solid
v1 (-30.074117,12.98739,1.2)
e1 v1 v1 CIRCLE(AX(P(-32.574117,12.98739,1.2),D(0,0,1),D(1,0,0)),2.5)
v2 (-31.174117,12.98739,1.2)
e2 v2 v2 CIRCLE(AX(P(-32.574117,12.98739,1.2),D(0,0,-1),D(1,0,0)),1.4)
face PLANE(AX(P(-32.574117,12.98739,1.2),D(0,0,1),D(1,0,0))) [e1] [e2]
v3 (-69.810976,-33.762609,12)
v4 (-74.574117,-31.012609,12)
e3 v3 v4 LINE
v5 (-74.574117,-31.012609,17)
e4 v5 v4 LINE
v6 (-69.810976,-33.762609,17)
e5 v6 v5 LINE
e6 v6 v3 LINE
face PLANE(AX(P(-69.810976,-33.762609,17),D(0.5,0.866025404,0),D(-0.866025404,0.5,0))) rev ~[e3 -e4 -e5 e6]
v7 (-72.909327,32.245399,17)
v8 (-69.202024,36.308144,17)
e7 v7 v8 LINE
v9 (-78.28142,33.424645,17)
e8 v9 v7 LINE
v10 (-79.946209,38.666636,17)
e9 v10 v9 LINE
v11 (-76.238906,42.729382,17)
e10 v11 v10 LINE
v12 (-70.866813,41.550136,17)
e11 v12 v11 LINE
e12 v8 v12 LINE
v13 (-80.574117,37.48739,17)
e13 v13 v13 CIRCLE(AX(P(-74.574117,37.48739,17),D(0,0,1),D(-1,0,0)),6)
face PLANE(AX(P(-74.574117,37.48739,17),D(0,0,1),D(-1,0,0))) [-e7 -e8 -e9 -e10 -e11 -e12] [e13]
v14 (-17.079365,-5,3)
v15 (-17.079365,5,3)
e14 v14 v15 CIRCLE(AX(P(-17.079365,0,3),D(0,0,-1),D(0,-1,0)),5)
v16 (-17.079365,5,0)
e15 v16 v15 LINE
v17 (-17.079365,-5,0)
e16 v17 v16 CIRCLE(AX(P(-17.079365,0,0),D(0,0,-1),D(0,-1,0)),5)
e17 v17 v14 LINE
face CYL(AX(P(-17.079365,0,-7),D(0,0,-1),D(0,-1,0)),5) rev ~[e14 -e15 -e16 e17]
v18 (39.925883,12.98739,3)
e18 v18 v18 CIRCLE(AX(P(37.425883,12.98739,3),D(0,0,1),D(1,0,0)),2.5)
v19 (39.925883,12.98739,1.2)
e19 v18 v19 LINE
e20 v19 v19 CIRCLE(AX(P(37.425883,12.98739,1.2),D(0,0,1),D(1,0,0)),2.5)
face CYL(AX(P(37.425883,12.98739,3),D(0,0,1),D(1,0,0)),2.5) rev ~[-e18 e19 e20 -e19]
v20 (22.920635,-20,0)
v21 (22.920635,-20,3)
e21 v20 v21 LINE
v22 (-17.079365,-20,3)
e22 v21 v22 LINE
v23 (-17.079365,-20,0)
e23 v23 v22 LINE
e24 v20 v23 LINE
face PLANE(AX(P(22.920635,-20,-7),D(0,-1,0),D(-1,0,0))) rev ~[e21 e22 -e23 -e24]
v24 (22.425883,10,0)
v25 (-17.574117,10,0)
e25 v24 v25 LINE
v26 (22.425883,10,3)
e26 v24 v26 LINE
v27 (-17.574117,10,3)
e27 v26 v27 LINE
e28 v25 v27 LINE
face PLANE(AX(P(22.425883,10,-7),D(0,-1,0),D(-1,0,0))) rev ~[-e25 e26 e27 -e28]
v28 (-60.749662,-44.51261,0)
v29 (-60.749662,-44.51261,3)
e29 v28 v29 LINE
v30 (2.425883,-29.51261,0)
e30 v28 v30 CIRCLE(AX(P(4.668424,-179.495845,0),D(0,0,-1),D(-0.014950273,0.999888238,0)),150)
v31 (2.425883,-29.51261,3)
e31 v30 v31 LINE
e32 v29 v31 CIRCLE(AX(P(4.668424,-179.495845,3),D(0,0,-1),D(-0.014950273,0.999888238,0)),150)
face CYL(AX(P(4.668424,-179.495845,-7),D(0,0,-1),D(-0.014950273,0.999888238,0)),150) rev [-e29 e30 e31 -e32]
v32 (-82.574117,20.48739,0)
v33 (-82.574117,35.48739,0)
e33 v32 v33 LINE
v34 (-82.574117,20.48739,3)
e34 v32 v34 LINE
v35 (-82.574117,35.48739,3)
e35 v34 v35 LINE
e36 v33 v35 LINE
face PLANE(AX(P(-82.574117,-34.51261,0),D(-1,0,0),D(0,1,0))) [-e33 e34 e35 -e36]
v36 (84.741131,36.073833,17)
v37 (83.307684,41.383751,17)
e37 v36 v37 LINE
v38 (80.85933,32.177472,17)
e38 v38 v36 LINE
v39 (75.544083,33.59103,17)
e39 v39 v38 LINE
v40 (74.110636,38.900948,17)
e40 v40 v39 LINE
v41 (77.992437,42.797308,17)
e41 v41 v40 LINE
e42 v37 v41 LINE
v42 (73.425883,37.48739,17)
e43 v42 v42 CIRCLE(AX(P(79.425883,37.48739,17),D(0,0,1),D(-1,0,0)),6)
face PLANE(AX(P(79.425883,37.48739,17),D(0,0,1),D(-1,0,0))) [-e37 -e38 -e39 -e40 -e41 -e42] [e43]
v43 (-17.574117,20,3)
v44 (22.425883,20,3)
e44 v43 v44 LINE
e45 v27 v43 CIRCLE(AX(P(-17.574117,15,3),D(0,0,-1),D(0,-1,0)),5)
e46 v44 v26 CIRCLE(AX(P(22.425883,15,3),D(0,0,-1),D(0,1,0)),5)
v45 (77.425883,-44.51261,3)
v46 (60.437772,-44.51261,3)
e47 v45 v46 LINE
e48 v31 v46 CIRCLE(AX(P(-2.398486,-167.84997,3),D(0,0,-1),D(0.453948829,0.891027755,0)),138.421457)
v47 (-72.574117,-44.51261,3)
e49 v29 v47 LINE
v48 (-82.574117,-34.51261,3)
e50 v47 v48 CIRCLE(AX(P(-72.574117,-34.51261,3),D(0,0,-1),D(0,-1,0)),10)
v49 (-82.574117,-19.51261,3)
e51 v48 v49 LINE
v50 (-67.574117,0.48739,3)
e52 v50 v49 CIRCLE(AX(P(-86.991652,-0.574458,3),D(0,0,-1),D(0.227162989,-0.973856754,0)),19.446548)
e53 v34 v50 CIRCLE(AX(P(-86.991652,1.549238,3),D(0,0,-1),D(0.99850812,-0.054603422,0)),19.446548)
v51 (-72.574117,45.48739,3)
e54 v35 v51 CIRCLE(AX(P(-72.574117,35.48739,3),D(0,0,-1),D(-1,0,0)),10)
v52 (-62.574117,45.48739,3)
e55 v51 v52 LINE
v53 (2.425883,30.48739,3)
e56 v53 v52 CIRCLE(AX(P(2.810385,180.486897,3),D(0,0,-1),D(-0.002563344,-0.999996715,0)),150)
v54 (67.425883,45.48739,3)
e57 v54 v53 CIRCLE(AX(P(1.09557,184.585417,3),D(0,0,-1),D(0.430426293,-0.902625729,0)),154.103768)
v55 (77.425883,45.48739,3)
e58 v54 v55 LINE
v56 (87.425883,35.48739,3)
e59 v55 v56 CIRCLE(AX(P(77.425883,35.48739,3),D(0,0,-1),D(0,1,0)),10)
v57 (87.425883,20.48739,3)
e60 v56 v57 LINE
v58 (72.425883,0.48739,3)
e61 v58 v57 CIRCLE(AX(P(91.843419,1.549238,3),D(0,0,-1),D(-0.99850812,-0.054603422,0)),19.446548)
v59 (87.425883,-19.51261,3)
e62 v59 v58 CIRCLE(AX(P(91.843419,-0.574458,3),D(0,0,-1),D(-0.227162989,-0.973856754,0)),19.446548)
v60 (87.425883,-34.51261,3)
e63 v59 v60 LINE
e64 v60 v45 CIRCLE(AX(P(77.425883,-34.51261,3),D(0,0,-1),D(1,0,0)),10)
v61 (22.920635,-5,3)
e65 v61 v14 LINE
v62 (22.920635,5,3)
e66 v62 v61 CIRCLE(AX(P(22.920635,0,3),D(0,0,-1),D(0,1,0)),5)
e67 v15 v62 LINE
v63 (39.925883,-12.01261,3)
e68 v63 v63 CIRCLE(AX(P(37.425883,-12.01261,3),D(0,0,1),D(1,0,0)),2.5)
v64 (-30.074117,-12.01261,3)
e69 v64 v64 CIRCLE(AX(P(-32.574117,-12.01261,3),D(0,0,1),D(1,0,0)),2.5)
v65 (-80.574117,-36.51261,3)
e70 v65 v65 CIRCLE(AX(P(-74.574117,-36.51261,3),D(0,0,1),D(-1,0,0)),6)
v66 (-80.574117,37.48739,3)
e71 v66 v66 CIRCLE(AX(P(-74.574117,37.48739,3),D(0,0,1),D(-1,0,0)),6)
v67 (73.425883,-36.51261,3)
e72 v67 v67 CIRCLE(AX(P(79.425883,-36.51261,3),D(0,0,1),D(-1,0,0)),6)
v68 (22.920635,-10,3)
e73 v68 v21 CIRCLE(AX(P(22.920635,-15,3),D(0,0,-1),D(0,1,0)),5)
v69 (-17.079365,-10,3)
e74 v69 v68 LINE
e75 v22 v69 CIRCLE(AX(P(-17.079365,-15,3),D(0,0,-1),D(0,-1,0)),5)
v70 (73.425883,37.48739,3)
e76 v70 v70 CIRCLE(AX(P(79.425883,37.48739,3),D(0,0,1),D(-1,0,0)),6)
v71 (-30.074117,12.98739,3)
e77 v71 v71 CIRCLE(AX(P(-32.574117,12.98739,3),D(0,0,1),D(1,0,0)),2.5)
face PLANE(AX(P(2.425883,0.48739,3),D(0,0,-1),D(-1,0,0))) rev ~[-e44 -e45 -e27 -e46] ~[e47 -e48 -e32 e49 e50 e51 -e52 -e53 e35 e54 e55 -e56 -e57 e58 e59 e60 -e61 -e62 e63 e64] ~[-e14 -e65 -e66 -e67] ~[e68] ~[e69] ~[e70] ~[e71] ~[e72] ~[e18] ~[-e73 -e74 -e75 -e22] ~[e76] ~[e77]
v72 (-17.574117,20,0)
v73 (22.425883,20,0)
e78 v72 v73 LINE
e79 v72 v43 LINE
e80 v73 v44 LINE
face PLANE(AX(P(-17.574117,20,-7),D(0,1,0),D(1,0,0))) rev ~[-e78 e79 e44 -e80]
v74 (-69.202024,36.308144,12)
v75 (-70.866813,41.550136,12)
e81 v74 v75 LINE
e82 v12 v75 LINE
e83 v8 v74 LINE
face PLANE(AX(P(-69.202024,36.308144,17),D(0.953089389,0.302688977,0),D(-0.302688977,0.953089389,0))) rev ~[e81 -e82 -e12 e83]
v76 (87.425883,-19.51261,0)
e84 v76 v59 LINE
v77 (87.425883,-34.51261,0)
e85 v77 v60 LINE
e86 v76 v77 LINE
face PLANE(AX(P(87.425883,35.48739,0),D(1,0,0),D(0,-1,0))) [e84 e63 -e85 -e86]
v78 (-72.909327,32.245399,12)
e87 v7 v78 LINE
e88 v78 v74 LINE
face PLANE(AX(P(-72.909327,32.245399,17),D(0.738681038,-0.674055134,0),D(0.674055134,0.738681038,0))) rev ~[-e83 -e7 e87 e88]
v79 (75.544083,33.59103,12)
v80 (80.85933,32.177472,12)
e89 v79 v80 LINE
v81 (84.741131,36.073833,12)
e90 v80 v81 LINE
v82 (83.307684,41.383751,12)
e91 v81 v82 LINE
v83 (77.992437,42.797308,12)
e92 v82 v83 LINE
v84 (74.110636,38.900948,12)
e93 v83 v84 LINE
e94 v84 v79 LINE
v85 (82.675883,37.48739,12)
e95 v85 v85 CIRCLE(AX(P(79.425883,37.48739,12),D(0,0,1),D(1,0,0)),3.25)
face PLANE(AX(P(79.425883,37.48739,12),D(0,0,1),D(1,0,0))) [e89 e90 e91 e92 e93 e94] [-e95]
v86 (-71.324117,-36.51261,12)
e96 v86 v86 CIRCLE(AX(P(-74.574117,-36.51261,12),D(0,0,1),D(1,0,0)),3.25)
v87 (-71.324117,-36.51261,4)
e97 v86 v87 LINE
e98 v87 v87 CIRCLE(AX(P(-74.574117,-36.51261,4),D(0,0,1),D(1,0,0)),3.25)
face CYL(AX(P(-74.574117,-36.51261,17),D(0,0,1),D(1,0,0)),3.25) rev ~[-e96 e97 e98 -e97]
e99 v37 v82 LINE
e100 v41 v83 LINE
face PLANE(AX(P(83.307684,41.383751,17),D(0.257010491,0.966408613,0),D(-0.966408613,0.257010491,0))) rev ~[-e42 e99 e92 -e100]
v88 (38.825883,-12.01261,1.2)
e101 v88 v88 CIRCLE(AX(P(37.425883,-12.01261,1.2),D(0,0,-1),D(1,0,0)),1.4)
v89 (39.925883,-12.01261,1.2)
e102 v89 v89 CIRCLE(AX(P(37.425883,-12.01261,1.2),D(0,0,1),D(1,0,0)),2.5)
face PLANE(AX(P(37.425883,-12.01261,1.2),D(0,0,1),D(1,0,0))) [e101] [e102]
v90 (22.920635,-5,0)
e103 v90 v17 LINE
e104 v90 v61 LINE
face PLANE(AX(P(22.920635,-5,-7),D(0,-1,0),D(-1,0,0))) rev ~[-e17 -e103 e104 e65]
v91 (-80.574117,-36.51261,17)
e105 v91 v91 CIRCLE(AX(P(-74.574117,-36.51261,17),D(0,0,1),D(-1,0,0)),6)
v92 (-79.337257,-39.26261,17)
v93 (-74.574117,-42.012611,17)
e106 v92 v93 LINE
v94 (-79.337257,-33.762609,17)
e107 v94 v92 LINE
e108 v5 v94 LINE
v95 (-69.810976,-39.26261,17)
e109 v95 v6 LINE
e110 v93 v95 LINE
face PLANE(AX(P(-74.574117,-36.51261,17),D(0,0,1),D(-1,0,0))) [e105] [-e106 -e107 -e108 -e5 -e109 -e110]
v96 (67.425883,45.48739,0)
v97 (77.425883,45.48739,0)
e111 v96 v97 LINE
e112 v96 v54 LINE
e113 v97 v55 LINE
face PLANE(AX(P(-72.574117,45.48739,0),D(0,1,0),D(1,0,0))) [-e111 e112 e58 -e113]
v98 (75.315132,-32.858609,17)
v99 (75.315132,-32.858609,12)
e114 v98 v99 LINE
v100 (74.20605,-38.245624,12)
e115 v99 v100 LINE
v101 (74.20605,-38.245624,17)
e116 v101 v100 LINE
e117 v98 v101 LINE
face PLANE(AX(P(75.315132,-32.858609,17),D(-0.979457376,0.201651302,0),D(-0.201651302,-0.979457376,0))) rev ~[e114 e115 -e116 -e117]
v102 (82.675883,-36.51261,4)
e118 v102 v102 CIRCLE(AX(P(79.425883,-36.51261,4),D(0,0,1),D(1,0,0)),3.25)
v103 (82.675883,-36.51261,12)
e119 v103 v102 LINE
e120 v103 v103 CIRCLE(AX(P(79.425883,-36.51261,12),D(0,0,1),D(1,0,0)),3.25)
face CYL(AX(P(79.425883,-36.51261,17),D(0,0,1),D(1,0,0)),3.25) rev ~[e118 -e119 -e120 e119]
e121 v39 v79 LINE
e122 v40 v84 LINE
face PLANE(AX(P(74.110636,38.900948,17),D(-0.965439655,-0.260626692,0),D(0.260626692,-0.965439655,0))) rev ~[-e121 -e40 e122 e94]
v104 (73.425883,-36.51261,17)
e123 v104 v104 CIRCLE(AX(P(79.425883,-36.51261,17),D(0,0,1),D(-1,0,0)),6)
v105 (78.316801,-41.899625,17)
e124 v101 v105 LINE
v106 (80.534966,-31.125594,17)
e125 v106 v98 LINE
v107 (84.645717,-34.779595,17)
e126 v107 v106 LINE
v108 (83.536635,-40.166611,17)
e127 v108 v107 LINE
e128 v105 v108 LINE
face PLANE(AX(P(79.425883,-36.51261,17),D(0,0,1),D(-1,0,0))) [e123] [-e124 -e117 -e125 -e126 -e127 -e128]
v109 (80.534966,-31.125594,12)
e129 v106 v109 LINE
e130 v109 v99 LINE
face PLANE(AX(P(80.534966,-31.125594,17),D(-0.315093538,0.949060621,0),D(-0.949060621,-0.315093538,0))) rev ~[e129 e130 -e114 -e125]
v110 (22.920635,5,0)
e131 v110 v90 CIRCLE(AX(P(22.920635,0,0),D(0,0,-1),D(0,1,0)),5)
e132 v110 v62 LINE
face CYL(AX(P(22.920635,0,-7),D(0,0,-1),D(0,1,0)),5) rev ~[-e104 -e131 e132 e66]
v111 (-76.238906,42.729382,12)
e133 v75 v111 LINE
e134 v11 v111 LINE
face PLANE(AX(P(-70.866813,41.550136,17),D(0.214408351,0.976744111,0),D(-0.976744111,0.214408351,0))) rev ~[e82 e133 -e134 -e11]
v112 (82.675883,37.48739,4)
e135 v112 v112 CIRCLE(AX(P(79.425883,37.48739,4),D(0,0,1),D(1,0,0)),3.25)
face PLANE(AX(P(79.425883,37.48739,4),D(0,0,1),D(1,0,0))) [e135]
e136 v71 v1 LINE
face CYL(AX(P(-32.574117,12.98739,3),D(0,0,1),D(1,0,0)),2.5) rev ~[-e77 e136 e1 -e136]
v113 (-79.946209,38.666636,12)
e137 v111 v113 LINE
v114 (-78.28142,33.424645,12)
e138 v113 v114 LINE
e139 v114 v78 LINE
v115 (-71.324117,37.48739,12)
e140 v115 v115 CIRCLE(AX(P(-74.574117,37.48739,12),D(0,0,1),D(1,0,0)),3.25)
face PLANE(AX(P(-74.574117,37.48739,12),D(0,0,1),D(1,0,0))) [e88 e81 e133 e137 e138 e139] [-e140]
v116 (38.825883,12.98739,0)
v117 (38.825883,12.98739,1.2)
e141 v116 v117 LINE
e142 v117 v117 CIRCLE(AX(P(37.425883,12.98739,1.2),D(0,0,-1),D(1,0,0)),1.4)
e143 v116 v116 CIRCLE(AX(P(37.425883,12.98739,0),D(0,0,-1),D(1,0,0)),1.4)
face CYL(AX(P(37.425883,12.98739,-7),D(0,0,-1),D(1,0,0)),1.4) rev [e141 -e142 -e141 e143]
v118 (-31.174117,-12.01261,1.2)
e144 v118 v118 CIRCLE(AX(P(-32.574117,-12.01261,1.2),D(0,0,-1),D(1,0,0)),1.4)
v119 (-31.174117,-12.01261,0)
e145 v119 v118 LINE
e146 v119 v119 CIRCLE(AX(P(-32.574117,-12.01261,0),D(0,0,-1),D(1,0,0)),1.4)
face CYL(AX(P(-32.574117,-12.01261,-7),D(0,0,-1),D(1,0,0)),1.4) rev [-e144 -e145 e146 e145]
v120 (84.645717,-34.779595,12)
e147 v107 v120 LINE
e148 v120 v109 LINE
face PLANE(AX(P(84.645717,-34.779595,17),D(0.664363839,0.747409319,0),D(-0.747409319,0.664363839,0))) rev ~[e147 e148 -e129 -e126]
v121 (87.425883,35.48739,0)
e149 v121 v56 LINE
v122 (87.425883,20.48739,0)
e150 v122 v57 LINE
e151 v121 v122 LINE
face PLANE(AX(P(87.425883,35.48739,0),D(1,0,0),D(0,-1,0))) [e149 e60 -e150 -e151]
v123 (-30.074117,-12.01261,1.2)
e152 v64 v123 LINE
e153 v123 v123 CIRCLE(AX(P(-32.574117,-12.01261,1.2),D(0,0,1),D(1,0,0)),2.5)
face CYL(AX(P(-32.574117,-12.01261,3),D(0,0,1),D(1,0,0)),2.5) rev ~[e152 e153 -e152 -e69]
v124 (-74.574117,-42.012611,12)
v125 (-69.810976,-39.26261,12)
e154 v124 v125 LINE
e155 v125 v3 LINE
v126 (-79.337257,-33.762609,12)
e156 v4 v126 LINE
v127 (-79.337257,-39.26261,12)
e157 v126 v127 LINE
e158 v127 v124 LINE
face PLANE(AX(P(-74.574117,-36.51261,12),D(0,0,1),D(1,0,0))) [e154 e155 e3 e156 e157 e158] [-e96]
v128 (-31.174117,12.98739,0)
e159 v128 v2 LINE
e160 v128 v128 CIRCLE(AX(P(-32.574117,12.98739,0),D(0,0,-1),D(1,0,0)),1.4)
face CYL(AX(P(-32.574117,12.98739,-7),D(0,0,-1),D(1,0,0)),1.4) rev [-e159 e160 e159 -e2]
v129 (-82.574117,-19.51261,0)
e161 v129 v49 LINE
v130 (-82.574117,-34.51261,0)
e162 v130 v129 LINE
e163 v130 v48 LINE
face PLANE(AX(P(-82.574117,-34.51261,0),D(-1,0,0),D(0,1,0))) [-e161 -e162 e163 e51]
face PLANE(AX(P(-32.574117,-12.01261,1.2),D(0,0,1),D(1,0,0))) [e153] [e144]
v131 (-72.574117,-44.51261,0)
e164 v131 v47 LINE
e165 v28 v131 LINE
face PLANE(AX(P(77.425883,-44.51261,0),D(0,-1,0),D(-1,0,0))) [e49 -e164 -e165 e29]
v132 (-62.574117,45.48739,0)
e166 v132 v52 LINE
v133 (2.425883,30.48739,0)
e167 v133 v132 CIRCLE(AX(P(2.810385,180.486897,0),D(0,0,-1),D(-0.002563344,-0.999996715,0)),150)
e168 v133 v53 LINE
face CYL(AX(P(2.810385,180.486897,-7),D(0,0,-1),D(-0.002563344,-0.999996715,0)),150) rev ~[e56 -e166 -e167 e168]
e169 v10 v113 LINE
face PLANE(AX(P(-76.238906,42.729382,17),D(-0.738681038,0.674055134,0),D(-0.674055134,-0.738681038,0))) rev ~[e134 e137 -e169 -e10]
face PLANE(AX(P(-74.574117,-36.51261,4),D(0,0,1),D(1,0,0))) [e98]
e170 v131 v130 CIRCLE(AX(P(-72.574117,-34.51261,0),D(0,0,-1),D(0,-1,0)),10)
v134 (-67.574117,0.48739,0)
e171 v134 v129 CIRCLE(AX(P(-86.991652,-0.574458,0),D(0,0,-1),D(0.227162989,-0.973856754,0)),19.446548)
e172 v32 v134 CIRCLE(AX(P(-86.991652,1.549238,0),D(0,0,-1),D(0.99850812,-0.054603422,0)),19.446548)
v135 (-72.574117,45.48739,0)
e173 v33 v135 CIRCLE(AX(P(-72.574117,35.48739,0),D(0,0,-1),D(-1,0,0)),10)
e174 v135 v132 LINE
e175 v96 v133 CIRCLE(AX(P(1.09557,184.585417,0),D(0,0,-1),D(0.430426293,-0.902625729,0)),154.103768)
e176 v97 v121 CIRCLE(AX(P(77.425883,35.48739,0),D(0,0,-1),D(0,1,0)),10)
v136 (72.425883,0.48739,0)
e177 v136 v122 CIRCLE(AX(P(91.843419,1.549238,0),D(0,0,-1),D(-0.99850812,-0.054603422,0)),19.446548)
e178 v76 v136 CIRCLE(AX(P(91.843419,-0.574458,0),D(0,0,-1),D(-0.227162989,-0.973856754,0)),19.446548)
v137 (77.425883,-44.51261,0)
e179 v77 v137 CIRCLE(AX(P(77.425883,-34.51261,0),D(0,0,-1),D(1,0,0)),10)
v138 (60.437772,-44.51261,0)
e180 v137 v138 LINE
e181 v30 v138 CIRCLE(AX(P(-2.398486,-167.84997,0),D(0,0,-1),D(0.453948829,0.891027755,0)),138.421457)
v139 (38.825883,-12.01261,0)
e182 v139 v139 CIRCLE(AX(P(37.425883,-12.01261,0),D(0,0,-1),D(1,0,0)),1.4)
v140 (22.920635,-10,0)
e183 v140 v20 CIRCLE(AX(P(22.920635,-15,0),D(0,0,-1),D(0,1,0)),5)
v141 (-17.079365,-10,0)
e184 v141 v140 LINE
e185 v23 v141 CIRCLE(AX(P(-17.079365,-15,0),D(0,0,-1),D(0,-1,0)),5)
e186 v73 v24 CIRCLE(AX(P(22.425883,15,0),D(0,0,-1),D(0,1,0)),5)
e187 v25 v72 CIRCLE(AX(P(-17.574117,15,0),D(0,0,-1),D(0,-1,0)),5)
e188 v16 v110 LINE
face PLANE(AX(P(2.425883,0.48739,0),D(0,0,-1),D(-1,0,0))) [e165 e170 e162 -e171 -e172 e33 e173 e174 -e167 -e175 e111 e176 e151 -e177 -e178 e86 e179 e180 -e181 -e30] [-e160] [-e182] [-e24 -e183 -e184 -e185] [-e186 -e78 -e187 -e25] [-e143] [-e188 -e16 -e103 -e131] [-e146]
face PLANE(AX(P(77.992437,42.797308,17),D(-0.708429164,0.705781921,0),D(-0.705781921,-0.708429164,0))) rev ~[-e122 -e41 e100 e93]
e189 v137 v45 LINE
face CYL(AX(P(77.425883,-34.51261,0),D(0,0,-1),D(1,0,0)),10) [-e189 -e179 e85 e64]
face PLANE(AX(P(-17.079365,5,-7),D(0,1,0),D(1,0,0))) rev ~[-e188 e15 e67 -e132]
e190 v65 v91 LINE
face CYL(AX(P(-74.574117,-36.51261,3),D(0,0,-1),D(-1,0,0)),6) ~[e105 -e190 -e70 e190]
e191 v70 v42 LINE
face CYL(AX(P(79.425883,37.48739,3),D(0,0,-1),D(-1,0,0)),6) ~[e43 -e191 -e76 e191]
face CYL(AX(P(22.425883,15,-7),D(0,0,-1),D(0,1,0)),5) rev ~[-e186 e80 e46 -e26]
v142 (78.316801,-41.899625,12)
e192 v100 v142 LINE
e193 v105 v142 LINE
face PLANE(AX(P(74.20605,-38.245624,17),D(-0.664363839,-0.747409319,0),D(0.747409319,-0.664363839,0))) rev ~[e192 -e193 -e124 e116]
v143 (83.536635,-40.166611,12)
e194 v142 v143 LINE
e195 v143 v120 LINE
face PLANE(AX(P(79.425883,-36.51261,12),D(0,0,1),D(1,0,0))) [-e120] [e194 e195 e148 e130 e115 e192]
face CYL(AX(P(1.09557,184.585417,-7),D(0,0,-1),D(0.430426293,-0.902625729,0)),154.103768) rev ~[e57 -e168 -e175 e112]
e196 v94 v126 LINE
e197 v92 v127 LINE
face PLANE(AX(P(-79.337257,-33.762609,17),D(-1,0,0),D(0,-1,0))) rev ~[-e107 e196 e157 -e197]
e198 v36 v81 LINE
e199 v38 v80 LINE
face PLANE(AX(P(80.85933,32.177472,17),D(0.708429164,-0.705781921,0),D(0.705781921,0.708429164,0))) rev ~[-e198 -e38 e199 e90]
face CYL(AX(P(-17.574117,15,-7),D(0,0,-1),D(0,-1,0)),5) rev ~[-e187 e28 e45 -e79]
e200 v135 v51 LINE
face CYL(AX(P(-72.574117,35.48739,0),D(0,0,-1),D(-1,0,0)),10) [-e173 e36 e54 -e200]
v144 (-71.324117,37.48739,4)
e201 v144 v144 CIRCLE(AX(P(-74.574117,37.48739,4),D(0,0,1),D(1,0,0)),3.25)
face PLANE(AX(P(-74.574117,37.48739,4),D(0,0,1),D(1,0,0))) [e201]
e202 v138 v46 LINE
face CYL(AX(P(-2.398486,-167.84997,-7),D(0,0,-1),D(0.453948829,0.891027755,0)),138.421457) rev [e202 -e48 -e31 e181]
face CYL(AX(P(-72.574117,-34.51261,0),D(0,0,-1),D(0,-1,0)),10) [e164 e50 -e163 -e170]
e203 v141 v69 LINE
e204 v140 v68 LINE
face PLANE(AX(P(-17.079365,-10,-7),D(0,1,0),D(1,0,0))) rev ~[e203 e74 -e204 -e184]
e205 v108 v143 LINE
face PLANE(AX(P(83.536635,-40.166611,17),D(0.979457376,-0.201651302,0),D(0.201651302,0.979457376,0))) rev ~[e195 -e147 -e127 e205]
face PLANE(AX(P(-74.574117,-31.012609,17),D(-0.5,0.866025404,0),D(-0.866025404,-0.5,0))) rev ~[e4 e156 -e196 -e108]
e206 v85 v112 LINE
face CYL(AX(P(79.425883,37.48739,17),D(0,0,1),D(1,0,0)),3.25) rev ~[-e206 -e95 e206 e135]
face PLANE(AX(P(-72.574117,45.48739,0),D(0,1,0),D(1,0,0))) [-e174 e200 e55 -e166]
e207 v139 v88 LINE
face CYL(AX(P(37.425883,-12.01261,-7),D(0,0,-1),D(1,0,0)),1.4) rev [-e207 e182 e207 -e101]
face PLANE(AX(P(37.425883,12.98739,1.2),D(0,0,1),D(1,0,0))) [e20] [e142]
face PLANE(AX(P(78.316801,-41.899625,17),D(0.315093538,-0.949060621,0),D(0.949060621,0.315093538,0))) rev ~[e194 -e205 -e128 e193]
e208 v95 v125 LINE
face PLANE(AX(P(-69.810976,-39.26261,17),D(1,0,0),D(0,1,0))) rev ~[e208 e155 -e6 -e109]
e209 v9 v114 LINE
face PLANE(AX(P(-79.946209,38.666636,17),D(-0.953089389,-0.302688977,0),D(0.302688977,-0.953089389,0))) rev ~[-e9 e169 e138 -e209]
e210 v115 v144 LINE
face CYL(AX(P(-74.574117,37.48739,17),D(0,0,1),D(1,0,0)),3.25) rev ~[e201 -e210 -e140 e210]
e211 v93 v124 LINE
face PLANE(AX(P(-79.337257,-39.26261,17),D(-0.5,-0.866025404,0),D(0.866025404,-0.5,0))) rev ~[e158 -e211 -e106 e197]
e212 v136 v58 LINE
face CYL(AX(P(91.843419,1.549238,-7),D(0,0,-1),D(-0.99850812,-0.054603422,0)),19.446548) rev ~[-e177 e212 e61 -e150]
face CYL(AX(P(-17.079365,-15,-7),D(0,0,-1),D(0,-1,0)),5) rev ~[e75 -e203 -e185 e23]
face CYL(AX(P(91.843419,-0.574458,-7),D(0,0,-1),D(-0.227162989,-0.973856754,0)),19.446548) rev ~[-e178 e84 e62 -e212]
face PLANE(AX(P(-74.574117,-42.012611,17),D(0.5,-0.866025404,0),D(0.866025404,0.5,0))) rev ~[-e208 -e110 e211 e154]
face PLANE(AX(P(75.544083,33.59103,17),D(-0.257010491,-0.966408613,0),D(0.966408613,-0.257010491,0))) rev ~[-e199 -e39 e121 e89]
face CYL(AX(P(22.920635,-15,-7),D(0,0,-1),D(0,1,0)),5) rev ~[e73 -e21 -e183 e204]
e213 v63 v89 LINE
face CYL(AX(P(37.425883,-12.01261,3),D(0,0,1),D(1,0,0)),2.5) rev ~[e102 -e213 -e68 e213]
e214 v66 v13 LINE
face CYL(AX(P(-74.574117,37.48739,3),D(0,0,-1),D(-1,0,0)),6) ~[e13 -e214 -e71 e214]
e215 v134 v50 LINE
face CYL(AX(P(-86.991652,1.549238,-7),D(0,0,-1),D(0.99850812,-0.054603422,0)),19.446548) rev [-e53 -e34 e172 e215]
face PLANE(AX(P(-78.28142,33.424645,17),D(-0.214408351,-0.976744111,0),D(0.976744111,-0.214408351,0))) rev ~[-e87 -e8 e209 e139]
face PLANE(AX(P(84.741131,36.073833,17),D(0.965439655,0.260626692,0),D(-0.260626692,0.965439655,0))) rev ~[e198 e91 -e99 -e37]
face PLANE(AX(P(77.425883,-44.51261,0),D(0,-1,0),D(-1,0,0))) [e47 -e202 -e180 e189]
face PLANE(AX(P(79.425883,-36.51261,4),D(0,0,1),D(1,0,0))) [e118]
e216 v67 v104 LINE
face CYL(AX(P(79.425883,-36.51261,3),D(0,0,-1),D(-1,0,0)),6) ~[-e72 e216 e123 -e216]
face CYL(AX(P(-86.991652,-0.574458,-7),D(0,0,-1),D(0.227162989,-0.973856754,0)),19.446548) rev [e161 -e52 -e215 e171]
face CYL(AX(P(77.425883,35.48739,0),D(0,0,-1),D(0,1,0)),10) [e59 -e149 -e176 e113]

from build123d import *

# Parameters (mm, degrees)
EXTRUDE_1_DEPTH          = 3
CUT_EXTRUDE_1_DEPTH      = 42
CUT_EXTRUDE_1_DEPTH_BACK = 10
SKETCH_2_R               = 1.4
SKETCH_3_R               = 2.5
CUT_EXTRUDE_2_DEPTH      = 1.8
SKETCH_7_R               = 6
EXTRUDE_4_DEPTH          = 14
BUTTON_LEFT_NUT_DEPTH    = 5
UP_LEFT_NUT_DEPTH        = 5
UP_RIGHT_NUT_DEPTH       = 5
BUTTON_RIGHT_NUT_DEPTH   = 5
SKETCH_13_R              = 3.25
CUT_EXTRUDE_7_DEPTH      = 13
SKETCH_15_R              = 3.25
CUT_EXTRUDE_8_DEPTH      = 13
SKETCH_16_R              = 3.25
CUT_EXTRUDE_9_DEPTH      = 13
SKETCH_17_R              = 3.25
CUT_EXTRUDE_10_DEPTH     = 13


with BuildPart() as part:
    # 草图1 → 凸台-拉伸1 (new body)
    with BuildSketch(Plane.XY):
        with BuildLine():
            Line((-72.574116531, 45.487390308), (77.425883469, 45.487390308))
            ThreePointArc((77.425883469, 45.487390308), (84.496951281, 42.558458119), (87.425883469, 35.487390308))
            Line((87.425883469, 35.487390308), (87.425883469, -34.512609692))
            ThreePointArc((87.425883469, -34.512609692), (84.496951281, -41.583677504), (77.425883469, -44.512609692))
            Line((77.425883469, -44.512609692), (-72.574116531, -44.512609692))
            ThreePointArc((-72.574116531, -44.512609692), (-79.645184343, -41.583677504), (-82.574116531, -34.512609692))
            Line((-82.574116531, -34.512609692), (-82.574116531, 35.487390308))
            ThreePointArc((-82.574116531, 35.487390308), (-79.645184343, 42.558458119), (-72.574116531, 45.487390308))
        make_face()
    extrude(amount=EXTRUDE_1_DEPTH)

    # 草图2 → 切除-拉伸1 (cut, two sides: drawn at the far end of the back side and taken through both)
    with BuildSketch(Plane.XY.offset(3).offset(-CUT_EXTRUDE_1_DEPTH_BACK)):
        with Locations((-32.574116531, 12.987390308)):
            Circle(SKETCH_2_R)
        with Locations((-32.574116531, -12.012609692)):
            Circle(SKETCH_2_R)
        with Locations((37.425883469, 12.987390308)):
            Circle(SKETCH_2_R)
        with Locations((37.425883469, -12.012609692)):
            Circle(SKETCH_2_R)
        with BuildLine():
            Line((-60.749662301, -44.512609692), (60.437772164, -44.512609692))
            ThreePointArc((60.437772164, -44.512609692), (32.253211404, -33.835942142), (2.425883469, -29.512609692))
            ThreePointArc((2.425883469, -29.512609692), (-29.983273004, -33.55318593), (-60.749662301, -44.512609692))
        make_face()
        with BuildLine():
            Line((-62.574116531, 45.487390308), (67.425883469, 45.487390308))
            ThreePointArc((67.425883469, 45.487390308), (35.747267057, 34.428061428), (2.425883469, 30.487390308))
            ThreePointArc((2.425883469, 30.487390308), (-30.918540876, 34.328218147), (-62.574116531, 45.487390308))
        make_face()
        with BuildLine():
            Line((87.425883469, 20.487390308), (87.425883469, -19.512609692))
            ThreePointArc((87.425883469, -19.512609692), (76.286181126, -12.242386449), (72.425883469, 0.487390308))
            ThreePointArc((72.425883469, 0.487390308), (76.286181126, 13.217167065), (87.425883469, 20.487390308))
        make_face()
        with BuildLine():
            Line((-82.574116531, 20.487390308), (-82.574116531, -19.512609692))
            ThreePointArc((-82.574116531, -19.512609692), (-71.434414188, -12.242386449), (-67.574116531, 0.487390308))
            ThreePointArc((-67.574116531, 0.487390308), (-71.434414188, 13.217167065), (-82.574116531, 20.487390308))
        make_face()
        with BuildLine():
            Line((-17.574116531, 20), (22.425883469, 20))
            ThreePointArc((22.425883469, 20), (27.425883469, 15), (22.425883469, 10))
            Line((22.425883469, 10), (-17.574116531, 10))
            ThreePointArc((-17.574116531, 10), (-22.574116531, 15), (-17.574116531, 20))
        make_face()
        with BuildLine():
            Line((-17.079364826, 5), (22.920635174, 5))
            ThreePointArc((22.920635174, 5), (27.920635174, 0), (22.920635174, -5))
            Line((22.920635174, -5), (-17.079364826, -5))
            ThreePointArc((-17.079364826, -5), (-22.079364826, 0), (-17.079364826, 5))
        make_face()
        with BuildLine():
            Line((-17.079364826, -10), (22.920635174, -10))
            ThreePointArc((22.920635174, -10), (27.920635174, -15), (22.920635174, -20))
            Line((22.920635174, -20), (-17.079364826, -20))
            ThreePointArc((-17.079364826, -20), (-22.079364826, -15), (-17.079364826, -10))
        make_face()
    extrude(amount=CUT_EXTRUDE_1_DEPTH + CUT_EXTRUDE_1_DEPTH_BACK, mode=Mode.SUBTRACT)

    # 草图3 → 切除-拉伸2 (cut)
    with BuildSketch(Plane.XY.offset(3)):
        with Locations((-32.574116531, 12.987390308)):
            Circle(SKETCH_3_R)
        with Locations((37.425883469, 12.987390308)):
            Circle(SKETCH_3_R)
        with Locations((37.425883469, -12.012609692)):
            Circle(SKETCH_3_R)
        with Locations((-32.574116531, -12.012609692)):
            Circle(SKETCH_3_R)
    extrude(amount=-CUT_EXTRUDE_2_DEPTH, mode=Mode.SUBTRACT)

    # 草图7 → 凸台-拉伸4 (add)
    with BuildSketch(Plane.XY.offset(3)):
        with Locations(Location((-74.574116531, 37.487390308, 0), (0, 0, 180))):
            Circle(SKETCH_7_R)
        with Locations(Location((-74.574116531, -36.512609692, 0), (0, 0, 180))):
            Circle(SKETCH_7_R)
        with Locations(Location((79.425883469, 37.487390308, 0), (0, 0, 180))):
            Circle(SKETCH_7_R)
        with Locations(Location((79.425883469, -36.512609692, 0), (0, 0, 180))):
            Circle(SKETCH_7_R)
    extrude(amount=EXTRUDE_4_DEPTH)

    # 草图9 → button left nut (cut)
    with BuildSketch(Plane.XY.offset(17)):
        Polygon((-69.81097595, -39.262610189), (-69.81097595, -33.762609196), (-74.574116531, -31.0126087), (-79.337257112, -33.762609196), (-79.337257112, -39.262610189), (-74.574116531, -42.012610685), align=None)
    extrude(amount=-BUTTON_LEFT_NUT_DEPTH, mode=Mode.SUBTRACT)

    # 草图10 → up left nut (cut)
    with BuildSketch(Plane.XY.offset(17)):
        Polygon((-72.909327157, 32.245398669), (-69.202023918, 36.308144378), (-70.866813292, 41.550136017), (-76.238905905, 42.729381946), (-79.946209143, 38.666636237), (-78.28141977, 33.424644598), align=None)
    extrude(amount=-UP_LEFT_NUT_DEPTH, mode=Mode.SUBTRACT)

    # 草图11 → up right nut (cut)
    with BuildSketch(Plane.XY.offset(17)):
        Polygon((80.859330276, 32.177472205), (84.741130841, 36.073832606), (83.307684034, 41.383750708), (77.992436662, 42.79730841), (74.110636097, 38.900948009), (75.544082904, 33.591029907), align=None)
    extrude(amount=-UP_RIGHT_NUT_DEPTH, mode=Mode.SUBTRACT)

    # 草图12 → button right nut (cut)
    with BuildSketch(Plane.XY.offset(17)):
        Polygon((83.536634722, -40.166610806), (84.645716885, -34.779595236), (80.534965632, -31.125594122), (75.315132216, -32.858608579), (74.206050053, -38.245624149), (78.316801306, -41.899625263), align=None)
    extrude(amount=-BUTTON_RIGHT_NUT_DEPTH, mode=Mode.SUBTRACT)

    # 草图13 → 切除-拉伸7 (cut)
    with BuildSketch(Plane.XY.offset(17)):
        with Locations((-74.574116531, -36.512609692)):
            Circle(SKETCH_13_R)
    extrude(amount=-CUT_EXTRUDE_7_DEPTH, mode=Mode.SUBTRACT)

    # 草图15 → 切除-拉伸8 (cut)
    with BuildSketch(Plane.XY.offset(17)):
        with Locations((-74.574116531, 37.487390308)):
            Circle(SKETCH_15_R)
    extrude(amount=-CUT_EXTRUDE_8_DEPTH, mode=Mode.SUBTRACT)

    # 草图16 → 切除-拉伸9 (cut)
    with BuildSketch(Plane.XY.offset(17)):
        with Locations((79.425883469, 37.487390308)):
            Circle(SKETCH_16_R)
    extrude(amount=-CUT_EXTRUDE_9_DEPTH, mode=Mode.SUBTRACT)

    # 草图17 → 切除-拉伸10 (cut)
    with BuildSketch(Plane.XY.offset(17)):
        with Locations((79.425883469, -36.512609692)):
            Circle(SKETCH_17_R)
    extrude(amount=-CUT_EXTRUDE_10_DEPTH, mode=Mode.SUBTRACT)


solid = part.part
